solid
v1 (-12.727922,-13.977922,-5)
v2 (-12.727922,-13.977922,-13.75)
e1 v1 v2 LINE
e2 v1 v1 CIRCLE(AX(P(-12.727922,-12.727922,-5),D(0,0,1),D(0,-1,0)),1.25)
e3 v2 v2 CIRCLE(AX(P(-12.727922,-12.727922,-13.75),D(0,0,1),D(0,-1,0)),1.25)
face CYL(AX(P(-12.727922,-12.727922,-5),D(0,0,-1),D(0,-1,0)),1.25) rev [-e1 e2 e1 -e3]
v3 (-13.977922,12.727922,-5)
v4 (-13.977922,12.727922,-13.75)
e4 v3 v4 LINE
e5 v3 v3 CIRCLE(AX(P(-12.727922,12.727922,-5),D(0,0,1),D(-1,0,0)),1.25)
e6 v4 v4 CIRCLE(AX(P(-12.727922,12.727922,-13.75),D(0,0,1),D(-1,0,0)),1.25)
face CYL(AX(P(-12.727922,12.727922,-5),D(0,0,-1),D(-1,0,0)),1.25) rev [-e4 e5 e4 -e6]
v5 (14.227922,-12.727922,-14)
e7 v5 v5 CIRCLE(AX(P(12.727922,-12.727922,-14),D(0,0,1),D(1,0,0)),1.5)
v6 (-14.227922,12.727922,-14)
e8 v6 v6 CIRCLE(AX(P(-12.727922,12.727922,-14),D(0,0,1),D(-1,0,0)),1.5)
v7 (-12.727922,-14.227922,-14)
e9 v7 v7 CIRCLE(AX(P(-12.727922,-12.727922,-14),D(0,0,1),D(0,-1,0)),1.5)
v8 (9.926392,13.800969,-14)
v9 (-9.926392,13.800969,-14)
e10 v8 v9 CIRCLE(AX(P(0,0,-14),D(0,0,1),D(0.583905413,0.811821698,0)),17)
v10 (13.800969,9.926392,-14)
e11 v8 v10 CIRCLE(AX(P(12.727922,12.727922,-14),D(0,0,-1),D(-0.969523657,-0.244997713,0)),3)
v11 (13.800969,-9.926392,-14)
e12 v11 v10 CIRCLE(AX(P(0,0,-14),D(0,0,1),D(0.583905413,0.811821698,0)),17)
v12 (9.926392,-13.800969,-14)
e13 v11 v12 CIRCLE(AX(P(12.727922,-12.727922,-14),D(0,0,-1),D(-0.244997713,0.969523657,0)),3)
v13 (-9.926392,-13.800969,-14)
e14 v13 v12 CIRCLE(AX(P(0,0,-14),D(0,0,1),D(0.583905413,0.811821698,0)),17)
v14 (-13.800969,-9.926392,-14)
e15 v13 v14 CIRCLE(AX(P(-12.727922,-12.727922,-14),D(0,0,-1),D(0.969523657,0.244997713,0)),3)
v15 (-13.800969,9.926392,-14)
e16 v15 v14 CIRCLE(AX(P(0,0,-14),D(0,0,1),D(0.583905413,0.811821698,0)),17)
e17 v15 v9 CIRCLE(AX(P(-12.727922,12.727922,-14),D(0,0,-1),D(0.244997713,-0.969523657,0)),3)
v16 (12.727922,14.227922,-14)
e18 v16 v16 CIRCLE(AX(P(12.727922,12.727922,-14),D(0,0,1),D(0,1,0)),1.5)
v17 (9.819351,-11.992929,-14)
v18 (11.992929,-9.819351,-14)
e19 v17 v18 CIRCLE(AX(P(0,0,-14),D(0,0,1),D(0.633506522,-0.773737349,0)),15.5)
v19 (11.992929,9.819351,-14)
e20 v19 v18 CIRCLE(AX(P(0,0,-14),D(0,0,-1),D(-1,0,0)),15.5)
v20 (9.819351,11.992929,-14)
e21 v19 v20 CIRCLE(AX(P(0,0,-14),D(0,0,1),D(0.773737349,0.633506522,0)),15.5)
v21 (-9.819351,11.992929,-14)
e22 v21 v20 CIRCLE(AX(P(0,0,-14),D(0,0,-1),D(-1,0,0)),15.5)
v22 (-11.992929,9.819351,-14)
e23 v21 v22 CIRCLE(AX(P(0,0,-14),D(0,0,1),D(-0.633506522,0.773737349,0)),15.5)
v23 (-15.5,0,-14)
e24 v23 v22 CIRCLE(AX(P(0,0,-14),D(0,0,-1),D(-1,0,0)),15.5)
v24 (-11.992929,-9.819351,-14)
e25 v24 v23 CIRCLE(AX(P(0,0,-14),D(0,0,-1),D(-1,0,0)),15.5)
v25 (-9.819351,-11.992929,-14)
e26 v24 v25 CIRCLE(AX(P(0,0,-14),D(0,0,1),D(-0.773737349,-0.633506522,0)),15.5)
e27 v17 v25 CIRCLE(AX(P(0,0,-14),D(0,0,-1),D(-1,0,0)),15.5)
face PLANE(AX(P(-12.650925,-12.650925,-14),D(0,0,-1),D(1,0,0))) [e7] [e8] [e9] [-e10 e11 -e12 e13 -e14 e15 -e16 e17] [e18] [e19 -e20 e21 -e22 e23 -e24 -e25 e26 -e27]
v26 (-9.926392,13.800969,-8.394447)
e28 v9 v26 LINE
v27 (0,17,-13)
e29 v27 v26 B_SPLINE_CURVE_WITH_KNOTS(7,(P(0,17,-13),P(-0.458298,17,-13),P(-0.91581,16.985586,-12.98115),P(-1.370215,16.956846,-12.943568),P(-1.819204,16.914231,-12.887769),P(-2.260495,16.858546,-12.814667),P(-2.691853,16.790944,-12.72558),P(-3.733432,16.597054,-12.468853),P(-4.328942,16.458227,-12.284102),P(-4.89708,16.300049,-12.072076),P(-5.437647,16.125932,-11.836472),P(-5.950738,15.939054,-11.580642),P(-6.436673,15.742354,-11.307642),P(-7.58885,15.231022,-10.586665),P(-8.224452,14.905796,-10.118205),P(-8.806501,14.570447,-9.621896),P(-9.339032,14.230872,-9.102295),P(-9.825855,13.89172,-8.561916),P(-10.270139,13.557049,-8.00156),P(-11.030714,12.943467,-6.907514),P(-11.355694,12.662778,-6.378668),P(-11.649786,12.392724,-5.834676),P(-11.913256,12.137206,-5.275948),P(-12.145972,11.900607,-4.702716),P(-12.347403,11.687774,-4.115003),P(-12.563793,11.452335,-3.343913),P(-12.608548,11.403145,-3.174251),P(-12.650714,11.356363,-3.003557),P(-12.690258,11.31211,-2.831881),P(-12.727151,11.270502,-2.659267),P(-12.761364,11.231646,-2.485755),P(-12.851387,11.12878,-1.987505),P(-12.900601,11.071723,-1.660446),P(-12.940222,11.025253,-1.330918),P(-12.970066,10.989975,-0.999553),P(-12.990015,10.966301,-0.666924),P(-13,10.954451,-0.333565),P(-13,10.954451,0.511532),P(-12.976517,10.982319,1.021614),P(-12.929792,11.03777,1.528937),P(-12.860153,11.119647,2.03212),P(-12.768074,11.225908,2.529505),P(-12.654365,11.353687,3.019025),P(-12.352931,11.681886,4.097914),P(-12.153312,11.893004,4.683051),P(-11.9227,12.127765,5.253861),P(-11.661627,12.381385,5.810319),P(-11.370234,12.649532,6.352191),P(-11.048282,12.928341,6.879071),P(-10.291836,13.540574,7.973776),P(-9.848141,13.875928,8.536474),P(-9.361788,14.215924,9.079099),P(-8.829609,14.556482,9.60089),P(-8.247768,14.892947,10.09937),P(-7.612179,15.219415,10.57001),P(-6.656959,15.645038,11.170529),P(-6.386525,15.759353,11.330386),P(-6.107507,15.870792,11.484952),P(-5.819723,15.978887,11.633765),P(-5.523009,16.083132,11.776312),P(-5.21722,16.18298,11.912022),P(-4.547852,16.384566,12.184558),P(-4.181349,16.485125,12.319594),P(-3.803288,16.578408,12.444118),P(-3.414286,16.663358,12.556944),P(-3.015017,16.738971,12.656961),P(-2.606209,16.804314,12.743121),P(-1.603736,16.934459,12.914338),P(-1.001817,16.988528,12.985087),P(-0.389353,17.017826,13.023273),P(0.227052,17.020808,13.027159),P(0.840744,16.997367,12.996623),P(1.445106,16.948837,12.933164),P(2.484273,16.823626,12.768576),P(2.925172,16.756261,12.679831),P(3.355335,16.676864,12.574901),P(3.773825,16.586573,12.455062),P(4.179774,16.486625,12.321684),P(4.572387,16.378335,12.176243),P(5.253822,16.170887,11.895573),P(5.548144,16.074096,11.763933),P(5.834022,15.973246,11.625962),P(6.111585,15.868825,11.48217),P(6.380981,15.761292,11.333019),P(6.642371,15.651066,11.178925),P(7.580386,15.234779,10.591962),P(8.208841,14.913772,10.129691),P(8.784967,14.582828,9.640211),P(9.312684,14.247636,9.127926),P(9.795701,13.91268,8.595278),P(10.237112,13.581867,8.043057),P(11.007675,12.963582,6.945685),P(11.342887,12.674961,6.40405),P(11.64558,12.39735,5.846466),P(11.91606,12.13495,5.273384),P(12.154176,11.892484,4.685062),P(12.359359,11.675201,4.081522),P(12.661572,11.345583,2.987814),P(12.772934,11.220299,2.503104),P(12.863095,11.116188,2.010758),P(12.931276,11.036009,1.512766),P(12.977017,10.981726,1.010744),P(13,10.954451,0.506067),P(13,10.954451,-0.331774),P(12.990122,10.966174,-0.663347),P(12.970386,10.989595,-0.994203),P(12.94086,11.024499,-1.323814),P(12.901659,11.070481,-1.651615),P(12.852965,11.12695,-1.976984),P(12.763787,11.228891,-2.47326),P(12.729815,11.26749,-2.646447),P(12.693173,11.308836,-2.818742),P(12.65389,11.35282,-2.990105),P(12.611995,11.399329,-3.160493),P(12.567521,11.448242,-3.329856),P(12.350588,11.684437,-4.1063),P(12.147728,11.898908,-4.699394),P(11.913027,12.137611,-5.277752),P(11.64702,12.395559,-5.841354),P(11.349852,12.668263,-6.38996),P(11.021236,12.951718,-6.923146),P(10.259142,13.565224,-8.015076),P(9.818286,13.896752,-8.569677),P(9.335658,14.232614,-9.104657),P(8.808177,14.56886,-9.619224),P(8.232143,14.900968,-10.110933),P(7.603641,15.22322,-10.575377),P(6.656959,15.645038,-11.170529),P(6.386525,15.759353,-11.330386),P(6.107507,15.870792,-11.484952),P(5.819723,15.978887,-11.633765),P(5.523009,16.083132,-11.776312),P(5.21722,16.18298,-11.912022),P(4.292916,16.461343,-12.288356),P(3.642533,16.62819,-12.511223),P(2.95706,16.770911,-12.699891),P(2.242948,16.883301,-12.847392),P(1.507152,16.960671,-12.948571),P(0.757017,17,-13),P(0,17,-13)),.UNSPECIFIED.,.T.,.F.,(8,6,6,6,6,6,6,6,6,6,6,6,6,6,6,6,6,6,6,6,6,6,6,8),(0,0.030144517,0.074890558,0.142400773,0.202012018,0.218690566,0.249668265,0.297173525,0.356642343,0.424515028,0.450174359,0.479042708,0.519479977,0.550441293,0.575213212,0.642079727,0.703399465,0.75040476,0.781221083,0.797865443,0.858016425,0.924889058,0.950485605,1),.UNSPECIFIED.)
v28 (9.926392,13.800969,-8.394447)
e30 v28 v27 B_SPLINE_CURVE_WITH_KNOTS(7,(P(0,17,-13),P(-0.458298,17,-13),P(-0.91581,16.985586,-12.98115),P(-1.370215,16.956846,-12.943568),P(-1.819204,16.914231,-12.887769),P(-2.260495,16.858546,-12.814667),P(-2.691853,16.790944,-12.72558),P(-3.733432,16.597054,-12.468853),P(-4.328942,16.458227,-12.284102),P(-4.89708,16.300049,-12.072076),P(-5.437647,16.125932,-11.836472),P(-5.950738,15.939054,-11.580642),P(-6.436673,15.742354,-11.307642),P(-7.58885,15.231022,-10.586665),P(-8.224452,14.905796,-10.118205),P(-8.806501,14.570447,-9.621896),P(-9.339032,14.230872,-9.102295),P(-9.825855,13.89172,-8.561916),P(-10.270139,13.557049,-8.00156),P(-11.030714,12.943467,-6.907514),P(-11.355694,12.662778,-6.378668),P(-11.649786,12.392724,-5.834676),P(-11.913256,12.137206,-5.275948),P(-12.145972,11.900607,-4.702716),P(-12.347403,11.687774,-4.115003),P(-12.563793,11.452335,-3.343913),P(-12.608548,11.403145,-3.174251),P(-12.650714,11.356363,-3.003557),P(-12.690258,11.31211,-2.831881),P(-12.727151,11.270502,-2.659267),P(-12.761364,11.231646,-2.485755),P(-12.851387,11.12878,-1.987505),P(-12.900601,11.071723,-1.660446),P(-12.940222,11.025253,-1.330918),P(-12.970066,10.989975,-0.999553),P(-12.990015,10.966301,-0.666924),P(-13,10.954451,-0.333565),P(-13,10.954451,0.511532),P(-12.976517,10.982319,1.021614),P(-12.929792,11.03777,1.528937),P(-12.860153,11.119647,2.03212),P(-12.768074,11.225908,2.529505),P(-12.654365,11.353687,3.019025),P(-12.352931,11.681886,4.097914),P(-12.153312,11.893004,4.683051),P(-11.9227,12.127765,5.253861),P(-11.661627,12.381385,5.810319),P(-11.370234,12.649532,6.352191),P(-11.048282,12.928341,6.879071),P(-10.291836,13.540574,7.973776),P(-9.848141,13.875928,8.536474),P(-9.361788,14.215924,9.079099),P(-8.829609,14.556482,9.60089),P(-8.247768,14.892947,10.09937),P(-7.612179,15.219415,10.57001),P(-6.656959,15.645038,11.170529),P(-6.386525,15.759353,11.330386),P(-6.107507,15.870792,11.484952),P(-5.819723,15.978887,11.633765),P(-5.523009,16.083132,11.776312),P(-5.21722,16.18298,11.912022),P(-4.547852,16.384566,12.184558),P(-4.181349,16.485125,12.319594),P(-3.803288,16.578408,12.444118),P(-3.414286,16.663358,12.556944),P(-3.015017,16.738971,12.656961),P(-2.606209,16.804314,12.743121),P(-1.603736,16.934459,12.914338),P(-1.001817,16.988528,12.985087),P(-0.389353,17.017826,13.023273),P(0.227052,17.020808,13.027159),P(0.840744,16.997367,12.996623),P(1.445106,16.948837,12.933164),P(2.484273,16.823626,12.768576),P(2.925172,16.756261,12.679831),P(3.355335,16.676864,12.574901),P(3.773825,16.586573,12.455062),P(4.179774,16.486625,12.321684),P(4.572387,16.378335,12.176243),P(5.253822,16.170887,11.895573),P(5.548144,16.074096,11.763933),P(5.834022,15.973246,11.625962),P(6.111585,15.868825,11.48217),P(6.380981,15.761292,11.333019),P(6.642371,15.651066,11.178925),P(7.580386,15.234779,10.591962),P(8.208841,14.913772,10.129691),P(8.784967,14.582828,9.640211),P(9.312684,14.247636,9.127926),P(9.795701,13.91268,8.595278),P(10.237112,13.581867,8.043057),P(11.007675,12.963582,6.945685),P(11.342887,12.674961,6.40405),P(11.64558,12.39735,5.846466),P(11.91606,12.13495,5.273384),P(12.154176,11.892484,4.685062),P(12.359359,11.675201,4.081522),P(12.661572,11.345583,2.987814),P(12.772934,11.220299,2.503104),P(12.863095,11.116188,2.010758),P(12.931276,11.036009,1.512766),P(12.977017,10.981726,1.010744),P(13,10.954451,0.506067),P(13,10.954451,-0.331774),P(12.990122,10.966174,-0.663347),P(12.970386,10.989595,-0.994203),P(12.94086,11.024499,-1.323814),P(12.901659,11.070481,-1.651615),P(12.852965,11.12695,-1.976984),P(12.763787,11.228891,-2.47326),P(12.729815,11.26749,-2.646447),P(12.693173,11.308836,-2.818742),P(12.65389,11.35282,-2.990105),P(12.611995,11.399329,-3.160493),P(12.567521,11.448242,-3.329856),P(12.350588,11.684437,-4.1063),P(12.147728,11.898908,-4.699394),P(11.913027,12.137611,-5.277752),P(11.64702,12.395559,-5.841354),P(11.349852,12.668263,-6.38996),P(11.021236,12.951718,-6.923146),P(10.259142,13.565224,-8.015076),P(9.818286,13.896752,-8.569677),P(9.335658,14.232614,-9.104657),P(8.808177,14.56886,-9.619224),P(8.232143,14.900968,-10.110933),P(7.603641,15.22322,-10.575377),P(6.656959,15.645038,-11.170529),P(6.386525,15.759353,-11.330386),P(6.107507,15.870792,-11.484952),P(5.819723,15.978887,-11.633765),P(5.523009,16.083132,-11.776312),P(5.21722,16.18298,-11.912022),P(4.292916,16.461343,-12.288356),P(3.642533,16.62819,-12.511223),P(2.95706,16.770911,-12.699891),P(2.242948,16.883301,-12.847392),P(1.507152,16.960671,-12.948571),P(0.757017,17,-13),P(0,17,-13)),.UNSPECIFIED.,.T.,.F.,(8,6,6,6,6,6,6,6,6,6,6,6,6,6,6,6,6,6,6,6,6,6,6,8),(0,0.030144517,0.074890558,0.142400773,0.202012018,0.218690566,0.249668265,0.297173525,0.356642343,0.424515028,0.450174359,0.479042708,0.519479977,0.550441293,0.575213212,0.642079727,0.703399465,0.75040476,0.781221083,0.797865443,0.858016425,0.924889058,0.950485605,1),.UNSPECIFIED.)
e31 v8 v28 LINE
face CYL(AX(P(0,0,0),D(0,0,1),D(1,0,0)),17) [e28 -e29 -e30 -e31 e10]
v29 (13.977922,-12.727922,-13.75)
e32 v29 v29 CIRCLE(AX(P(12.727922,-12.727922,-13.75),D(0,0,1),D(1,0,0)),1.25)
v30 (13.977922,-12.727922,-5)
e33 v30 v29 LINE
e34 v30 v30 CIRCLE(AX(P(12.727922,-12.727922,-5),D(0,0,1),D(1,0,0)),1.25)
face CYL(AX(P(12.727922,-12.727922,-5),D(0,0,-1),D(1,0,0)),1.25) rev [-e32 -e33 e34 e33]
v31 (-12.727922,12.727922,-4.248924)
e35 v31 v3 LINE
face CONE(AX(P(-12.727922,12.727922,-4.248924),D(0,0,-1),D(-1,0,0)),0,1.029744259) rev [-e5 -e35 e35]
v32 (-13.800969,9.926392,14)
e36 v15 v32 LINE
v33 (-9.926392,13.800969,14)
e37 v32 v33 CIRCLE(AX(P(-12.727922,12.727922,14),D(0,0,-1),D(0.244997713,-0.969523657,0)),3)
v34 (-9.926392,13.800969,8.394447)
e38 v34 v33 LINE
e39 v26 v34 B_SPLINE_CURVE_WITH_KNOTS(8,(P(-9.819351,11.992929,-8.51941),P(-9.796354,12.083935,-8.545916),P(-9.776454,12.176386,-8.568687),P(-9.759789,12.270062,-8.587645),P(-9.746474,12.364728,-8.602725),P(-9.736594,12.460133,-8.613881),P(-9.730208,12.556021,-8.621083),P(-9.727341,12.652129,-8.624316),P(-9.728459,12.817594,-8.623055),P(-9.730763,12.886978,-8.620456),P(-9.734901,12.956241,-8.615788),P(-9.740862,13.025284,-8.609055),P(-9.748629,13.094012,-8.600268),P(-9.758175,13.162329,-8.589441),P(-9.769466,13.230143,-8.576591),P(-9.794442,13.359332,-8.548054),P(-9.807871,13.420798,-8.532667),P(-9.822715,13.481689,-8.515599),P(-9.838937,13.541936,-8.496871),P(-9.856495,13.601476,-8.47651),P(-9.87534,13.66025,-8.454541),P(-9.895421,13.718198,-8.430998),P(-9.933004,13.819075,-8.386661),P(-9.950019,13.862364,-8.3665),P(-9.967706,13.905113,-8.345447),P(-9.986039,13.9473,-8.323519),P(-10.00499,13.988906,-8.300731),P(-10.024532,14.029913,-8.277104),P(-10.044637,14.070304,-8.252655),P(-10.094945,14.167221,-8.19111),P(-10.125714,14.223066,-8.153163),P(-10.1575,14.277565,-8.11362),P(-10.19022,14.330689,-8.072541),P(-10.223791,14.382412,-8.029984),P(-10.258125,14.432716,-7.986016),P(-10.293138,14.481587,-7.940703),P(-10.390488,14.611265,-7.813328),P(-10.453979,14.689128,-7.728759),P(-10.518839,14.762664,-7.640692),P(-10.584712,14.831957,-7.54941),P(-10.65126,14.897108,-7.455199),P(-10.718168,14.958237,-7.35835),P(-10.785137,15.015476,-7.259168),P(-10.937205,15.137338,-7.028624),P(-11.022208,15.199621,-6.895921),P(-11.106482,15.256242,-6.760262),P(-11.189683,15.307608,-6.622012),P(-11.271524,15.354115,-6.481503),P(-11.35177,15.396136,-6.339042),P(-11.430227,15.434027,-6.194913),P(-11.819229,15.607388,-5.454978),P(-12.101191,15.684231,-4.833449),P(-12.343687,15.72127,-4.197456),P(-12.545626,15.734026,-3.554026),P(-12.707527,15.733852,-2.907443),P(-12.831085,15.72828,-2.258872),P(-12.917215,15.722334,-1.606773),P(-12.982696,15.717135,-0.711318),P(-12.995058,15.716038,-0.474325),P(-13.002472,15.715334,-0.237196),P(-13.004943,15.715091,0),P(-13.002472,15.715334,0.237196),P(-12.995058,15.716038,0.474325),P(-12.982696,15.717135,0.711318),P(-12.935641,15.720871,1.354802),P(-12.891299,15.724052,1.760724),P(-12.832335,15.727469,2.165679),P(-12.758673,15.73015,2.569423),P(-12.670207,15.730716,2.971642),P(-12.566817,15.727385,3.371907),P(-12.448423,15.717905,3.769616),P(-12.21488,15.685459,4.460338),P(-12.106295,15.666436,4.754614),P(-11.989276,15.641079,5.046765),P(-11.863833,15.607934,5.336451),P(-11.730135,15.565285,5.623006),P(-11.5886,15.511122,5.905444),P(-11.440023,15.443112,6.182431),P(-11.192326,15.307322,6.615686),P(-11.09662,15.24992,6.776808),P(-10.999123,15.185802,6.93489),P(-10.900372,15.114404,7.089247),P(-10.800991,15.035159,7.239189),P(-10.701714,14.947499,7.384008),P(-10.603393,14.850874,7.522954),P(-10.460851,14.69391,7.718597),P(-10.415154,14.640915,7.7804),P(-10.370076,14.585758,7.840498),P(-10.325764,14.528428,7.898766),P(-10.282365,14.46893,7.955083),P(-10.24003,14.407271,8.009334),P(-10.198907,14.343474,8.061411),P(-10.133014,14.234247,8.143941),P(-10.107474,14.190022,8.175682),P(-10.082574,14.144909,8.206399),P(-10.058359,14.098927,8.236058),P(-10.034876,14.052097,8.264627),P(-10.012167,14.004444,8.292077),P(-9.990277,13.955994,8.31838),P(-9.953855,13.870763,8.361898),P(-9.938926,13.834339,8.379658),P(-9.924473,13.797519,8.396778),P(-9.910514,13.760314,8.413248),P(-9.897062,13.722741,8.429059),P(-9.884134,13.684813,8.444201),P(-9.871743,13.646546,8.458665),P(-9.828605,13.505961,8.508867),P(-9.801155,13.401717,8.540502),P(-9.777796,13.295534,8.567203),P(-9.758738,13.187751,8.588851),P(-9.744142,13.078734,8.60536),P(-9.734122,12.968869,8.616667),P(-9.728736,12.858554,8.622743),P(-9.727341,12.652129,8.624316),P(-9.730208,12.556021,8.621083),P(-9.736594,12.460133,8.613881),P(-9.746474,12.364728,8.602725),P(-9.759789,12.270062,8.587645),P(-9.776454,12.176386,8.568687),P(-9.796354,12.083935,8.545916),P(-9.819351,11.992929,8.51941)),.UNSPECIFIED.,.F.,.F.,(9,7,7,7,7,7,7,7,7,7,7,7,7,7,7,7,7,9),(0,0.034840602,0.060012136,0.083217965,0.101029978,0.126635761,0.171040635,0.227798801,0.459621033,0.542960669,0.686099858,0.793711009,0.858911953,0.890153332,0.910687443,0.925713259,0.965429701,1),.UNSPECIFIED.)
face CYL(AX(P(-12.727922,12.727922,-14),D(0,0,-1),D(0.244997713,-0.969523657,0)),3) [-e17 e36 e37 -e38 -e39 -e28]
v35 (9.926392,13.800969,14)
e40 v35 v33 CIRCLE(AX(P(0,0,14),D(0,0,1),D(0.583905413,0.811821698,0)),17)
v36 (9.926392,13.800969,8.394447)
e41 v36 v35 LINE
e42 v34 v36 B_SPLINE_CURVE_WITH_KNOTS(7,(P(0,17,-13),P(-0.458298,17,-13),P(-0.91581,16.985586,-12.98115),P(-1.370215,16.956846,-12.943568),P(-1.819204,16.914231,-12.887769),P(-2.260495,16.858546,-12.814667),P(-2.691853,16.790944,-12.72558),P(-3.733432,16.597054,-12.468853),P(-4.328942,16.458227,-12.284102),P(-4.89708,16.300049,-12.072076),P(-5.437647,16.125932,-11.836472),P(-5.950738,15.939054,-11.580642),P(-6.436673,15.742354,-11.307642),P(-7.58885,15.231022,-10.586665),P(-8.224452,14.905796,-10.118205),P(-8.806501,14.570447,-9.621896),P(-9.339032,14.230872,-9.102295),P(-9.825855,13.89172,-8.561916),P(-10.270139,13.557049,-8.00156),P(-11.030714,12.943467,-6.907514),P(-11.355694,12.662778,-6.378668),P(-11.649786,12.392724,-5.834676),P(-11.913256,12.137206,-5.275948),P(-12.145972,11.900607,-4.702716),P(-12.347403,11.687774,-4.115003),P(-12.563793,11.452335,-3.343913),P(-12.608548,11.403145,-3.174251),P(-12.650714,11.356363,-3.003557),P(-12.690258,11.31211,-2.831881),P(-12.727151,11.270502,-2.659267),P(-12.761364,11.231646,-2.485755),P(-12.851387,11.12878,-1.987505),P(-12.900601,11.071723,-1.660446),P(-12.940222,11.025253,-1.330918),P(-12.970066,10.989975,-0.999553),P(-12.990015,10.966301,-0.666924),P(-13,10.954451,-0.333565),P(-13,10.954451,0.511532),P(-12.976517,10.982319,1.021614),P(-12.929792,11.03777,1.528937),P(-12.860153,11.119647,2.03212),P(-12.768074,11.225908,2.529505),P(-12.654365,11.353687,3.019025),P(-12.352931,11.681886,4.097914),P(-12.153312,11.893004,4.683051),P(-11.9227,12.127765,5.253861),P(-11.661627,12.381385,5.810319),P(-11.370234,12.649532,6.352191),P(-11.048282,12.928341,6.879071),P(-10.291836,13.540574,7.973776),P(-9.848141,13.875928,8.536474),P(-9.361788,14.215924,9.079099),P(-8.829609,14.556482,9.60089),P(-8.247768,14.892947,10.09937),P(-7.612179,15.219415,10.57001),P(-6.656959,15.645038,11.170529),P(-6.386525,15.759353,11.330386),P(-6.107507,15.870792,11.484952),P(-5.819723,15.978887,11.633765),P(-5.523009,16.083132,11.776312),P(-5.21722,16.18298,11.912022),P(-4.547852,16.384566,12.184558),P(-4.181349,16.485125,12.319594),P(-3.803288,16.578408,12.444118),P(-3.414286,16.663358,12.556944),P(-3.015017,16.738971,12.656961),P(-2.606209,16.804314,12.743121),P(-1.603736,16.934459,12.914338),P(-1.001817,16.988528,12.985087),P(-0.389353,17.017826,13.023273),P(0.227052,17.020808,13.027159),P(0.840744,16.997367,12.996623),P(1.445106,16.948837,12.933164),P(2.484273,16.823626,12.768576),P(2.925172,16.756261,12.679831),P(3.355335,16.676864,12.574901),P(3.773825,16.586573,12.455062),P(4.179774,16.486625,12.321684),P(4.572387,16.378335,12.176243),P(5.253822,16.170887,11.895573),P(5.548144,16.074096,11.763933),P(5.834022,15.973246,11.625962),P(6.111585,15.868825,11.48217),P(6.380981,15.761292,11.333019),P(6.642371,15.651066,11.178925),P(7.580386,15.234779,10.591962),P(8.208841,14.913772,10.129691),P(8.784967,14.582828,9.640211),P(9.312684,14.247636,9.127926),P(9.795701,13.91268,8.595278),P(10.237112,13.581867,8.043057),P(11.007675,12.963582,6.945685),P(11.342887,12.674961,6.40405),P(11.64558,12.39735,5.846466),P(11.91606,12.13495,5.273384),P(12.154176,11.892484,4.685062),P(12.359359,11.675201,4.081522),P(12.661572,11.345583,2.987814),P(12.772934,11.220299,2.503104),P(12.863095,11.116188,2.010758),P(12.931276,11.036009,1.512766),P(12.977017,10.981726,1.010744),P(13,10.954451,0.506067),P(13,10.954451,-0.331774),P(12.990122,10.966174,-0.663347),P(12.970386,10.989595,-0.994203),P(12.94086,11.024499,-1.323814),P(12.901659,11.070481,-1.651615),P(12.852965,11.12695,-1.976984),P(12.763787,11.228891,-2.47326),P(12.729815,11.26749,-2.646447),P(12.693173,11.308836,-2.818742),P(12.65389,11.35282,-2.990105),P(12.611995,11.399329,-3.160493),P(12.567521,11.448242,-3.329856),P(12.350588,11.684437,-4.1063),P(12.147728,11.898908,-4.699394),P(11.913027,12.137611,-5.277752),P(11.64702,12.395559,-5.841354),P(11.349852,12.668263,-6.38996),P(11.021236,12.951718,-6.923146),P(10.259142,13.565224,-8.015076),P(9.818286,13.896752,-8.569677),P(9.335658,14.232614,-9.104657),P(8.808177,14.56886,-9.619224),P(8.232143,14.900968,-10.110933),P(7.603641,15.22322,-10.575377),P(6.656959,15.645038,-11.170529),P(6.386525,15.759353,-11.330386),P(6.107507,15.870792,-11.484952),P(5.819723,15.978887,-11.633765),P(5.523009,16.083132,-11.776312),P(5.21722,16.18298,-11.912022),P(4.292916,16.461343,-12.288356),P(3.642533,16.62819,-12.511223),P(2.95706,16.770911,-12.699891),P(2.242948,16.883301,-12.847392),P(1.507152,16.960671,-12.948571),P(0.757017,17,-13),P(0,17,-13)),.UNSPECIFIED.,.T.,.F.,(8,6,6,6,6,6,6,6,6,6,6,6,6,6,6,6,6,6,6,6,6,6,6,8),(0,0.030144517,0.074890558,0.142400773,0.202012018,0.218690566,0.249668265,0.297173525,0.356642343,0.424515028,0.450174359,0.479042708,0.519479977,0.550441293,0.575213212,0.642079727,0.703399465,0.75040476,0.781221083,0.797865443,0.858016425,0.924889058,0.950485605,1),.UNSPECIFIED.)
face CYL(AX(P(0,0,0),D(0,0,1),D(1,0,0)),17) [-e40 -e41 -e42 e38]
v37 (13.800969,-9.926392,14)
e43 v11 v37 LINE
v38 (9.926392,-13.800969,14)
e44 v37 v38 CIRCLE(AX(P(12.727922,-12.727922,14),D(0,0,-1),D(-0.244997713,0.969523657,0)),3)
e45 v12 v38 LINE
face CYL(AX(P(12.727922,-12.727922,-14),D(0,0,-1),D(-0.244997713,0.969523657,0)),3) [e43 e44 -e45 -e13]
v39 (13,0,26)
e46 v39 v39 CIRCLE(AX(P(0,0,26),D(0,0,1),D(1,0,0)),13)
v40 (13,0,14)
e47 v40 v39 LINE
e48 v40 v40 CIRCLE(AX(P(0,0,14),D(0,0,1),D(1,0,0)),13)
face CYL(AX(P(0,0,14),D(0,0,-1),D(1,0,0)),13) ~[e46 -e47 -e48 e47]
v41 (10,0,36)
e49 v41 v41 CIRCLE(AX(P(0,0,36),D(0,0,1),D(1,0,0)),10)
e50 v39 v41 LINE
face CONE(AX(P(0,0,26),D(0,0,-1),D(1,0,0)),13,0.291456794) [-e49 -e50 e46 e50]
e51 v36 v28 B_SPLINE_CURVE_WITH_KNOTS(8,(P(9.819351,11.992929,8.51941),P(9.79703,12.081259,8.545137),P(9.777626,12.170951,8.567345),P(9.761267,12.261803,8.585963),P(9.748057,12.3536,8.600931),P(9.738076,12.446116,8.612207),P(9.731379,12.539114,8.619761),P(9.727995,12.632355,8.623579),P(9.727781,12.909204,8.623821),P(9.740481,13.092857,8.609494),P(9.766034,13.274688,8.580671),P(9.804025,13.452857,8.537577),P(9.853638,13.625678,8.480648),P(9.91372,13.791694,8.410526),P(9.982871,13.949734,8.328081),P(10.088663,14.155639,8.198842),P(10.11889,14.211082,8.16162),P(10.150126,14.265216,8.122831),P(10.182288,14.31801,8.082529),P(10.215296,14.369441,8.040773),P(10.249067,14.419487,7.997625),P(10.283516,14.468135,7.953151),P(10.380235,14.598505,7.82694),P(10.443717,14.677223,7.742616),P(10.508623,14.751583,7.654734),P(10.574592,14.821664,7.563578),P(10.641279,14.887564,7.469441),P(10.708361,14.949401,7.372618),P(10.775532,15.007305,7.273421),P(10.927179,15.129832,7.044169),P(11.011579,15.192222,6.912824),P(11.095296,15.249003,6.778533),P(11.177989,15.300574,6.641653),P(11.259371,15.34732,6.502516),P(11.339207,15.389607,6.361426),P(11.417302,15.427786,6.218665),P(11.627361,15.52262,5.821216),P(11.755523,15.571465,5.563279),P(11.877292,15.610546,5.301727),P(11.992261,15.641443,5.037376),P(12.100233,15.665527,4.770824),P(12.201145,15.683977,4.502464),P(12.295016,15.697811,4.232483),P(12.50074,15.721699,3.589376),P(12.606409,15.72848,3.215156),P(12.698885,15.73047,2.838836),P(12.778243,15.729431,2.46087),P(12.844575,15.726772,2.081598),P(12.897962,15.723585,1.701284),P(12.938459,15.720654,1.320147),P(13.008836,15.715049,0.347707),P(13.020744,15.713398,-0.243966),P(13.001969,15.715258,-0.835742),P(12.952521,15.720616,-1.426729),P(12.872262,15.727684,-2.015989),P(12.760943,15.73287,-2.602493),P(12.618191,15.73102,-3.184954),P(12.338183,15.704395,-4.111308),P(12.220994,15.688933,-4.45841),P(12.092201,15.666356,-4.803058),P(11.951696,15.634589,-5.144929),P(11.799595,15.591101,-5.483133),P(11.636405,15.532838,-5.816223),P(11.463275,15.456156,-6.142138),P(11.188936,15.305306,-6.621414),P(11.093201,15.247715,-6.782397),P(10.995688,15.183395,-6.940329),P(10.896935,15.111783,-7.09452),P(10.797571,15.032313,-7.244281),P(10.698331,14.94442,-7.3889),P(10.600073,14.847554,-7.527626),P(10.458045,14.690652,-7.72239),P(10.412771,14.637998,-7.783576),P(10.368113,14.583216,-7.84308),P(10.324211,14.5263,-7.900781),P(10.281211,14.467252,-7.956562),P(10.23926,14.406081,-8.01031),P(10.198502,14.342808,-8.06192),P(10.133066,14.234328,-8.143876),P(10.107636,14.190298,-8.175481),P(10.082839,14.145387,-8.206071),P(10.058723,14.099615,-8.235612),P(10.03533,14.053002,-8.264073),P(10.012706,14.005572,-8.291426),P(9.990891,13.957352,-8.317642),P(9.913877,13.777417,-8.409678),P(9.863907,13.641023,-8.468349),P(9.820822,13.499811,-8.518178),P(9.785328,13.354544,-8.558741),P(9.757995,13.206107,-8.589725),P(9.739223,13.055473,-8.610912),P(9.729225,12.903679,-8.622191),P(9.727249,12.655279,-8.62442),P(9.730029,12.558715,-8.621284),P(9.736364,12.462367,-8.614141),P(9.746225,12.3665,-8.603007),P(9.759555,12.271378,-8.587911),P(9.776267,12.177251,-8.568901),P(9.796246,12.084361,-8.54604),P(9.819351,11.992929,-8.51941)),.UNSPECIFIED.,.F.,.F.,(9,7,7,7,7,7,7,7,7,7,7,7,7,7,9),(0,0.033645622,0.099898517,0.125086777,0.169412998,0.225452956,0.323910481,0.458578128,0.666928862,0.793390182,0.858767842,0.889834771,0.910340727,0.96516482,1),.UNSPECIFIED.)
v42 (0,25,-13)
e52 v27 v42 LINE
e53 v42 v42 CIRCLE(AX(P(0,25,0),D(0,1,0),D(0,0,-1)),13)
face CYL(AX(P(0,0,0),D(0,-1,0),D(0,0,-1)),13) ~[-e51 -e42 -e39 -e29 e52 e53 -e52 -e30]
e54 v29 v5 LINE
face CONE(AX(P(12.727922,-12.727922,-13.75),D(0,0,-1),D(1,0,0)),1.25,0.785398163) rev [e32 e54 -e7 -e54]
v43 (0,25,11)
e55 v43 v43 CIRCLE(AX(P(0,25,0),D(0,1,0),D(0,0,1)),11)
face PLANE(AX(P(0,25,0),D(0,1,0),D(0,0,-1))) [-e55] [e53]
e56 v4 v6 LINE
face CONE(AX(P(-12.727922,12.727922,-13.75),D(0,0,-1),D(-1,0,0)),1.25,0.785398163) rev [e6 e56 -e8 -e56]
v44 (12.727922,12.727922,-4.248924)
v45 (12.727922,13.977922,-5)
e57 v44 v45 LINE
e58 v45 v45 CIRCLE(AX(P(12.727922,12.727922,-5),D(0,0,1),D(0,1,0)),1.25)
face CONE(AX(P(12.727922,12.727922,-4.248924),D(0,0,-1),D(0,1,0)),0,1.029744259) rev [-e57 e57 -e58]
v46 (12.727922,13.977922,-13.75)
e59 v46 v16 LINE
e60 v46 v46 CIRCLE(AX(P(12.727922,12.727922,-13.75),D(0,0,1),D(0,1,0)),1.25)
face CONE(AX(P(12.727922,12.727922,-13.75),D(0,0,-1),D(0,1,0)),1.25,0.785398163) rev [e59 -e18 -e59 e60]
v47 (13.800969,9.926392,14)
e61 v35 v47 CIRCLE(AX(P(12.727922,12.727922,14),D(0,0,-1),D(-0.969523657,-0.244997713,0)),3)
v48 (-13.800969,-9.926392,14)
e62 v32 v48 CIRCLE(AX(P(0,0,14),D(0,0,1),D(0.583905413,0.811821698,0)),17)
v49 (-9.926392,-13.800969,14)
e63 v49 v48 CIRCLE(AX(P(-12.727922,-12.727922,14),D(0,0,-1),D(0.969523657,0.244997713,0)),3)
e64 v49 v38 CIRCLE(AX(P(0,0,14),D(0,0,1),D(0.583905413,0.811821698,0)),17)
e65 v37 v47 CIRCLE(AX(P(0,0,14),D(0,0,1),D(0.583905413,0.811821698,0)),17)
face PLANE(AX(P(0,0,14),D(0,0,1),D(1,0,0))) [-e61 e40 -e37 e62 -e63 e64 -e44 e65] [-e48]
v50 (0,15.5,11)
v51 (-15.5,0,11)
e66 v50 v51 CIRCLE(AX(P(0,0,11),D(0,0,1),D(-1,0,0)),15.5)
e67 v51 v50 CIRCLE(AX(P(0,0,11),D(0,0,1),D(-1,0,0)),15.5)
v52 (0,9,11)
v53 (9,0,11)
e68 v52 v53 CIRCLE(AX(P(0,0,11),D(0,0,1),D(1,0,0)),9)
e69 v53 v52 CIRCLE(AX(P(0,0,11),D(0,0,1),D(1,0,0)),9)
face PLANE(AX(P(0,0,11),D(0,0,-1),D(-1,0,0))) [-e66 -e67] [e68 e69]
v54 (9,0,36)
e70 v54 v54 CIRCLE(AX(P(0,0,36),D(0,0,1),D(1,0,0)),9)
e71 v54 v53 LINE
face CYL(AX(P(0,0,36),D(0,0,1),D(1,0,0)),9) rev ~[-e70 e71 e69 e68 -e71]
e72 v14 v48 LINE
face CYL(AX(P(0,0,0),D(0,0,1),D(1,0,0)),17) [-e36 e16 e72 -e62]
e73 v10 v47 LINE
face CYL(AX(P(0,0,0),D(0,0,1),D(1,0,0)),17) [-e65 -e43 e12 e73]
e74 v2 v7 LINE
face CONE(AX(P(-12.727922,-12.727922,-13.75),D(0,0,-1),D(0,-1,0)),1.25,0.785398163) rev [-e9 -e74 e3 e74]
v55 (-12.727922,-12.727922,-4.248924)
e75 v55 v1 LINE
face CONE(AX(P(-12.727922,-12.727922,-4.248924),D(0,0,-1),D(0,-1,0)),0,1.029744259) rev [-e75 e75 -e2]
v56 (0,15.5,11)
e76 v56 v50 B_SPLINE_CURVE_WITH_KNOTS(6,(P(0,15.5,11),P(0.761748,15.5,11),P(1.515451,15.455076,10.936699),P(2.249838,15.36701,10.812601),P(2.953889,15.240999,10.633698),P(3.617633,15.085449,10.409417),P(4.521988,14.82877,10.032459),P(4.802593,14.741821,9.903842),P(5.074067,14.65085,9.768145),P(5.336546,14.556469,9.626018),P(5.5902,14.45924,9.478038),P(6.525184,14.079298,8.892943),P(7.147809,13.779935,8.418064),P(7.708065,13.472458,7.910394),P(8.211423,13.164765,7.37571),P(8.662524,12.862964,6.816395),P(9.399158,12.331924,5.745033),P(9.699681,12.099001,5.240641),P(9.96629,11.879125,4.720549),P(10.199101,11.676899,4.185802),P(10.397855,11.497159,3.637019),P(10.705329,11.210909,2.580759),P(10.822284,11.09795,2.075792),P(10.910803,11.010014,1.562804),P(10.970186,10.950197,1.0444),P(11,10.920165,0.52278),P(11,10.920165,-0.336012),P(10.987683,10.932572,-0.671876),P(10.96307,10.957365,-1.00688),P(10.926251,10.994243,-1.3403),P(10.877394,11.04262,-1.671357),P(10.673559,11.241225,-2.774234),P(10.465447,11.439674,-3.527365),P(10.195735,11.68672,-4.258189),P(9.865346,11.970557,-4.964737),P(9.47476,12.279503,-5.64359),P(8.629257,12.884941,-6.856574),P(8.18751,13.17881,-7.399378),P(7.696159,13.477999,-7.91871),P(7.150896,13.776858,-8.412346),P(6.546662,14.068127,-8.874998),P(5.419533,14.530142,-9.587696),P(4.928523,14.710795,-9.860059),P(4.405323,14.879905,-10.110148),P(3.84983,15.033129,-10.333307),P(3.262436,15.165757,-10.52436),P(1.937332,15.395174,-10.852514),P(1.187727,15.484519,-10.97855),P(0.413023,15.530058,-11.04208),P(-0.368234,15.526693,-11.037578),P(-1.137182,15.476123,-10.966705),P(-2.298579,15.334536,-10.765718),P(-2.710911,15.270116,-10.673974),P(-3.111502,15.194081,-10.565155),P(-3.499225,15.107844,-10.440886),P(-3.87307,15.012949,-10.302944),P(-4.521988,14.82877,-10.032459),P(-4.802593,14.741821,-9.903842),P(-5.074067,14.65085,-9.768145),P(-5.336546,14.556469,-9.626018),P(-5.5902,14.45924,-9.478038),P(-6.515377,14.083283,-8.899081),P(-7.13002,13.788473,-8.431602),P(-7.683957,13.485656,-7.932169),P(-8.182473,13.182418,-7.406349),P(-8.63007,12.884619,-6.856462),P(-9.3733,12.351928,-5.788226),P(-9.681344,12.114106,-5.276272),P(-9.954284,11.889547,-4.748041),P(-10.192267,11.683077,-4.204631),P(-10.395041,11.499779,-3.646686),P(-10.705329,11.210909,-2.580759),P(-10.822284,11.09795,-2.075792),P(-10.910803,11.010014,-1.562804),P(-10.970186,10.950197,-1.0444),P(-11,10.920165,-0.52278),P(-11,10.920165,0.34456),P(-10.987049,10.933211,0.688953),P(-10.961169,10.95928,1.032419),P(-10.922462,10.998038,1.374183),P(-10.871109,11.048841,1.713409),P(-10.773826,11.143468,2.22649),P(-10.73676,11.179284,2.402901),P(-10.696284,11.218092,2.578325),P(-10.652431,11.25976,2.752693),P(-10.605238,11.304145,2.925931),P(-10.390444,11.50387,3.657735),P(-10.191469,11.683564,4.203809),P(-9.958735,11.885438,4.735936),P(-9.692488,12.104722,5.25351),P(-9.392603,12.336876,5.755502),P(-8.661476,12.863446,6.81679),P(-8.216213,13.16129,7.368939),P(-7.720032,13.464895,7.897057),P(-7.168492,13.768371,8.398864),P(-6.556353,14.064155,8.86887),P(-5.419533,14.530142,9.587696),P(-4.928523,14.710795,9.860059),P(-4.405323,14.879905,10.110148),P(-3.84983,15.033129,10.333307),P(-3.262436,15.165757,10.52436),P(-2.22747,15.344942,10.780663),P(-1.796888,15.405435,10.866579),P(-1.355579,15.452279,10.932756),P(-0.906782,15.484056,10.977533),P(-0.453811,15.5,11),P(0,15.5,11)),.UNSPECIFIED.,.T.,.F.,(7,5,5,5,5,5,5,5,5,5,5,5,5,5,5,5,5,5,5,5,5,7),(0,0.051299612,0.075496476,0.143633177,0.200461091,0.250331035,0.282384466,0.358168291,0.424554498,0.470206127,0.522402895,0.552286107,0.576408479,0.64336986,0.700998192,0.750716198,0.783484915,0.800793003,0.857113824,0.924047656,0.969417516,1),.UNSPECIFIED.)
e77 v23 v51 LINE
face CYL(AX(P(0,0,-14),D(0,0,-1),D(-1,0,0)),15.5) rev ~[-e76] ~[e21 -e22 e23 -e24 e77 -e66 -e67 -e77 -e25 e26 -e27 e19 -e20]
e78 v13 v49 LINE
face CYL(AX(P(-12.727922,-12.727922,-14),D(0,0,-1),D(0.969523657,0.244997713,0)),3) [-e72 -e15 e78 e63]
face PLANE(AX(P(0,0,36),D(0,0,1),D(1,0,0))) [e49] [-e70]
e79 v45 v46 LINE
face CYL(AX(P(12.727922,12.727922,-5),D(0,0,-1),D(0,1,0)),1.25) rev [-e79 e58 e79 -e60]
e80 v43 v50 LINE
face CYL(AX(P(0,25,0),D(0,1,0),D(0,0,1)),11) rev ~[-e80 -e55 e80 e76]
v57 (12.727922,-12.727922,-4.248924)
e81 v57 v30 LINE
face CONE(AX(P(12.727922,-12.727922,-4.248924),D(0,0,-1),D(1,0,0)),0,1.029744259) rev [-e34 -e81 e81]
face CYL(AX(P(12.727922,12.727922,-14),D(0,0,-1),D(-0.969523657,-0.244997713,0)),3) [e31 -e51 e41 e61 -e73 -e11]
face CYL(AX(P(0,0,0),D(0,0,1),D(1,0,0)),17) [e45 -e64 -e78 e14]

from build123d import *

# Parameters (mm, degrees)
SKETCH1_R           = 17
BOSS_EXTRUDE1_DEPTH = 14
SKETCH2_R           = 13
BOSS_EXTRUDE2_DEPTH = 22
SKETCH3_R           = 13
BOSS_EXTRUDE3_DEPTH = 25
SKETCH4_R           = 15.5
CUT_EXTRUDE1_DEPTH  = 25
SKETCH5_R           = 9
CUT_EXTRUDE2_DEPTH  = 25
CHAMFER2_SIZE       = 10
CHAMFER2_SIZE2      = 3
BOSS_EXTRUDE4_DEPTH = 28
CIRPATTERN1_COUNT   = 4
SKETCH6_R           = 11
CUT_EXTRUDE3_DEPTH  = 25
CIRPATTERN2_COUNT   = 4


with BuildPart() as part:
    # Sketch1 → Boss-Extrude1 (new body, symmetric)
    with BuildSketch(Plane.XY):
        Circle(SKETCH1_R)
    extrude(amount=BOSS_EXTRUDE1_DEPTH, both=True)

    # Sketch2 → Boss-Extrude2 (add)
    with BuildSketch(Plane.XY.offset(14)):
        Circle(SKETCH2_R)
    extrude(amount=BOSS_EXTRUDE2_DEPTH)

    # Sketch3 → Boss-Extrude3 (add)
    with BuildSketch(Plane(origin=(0, 0, 0), x_dir=(1, 0, 0), z_dir=(0, 1, 0))):
        with Locations(Location((0, 0, 0), (0, 0, 90))):  # turned: the seam where the file's is
            Circle(SKETCH3_R)
    extrude(amount=BOSS_EXTRUDE3_DEPTH)

    # Sketch4 → Cut-Extrude1 (cut)
    with BuildSketch(Plane(origin=(0, 0, -14), x_dir=(-1, 0, 0), z_dir=(0, 0, -1))):
        Circle(SKETCH4_R)
    extrude(amount=-CUT_EXTRUDE1_DEPTH, mode=Mode.SUBTRACT)

    # Sketch5 → Cut-Extrude2 (cut)
    with BuildSketch(Plane.XY.offset(36)):
        Circle(SKETCH5_R)
    extrude(amount=-CUT_EXTRUDE2_DEPTH, mode=Mode.SUBTRACT)

    # Chamfer2
    chamfer2_edges = [part.edges().sort_by_distance(p)[0] for p in [
        (-13, 0, 36),
    ]]
    chamfer2_side = [part.faces().sort_by_distance(p)[0] for p in [
        (-13, 0, 25),
    ]]
    chamfer(chamfer2_edges, length=CHAMFER2_SIZE, length2=CHAMFER2_SIZE2, reference=chamfer2_side[0])

    # Sketch7 → Boss-Extrude4 (add)
    with BuildSketch(Plane(origin=(0, 0, -14), x_dir=(-1, 0, 0), z_dir=(0, 0, -1))):
        with BuildLine():
            ThreePointArc((-9.819351092, 11.992928922), (-14.849242405, 14.849242405), (-11.992928922, 9.819351092))
            ThreePointArc((-11.992928922, 9.819351092), (-10.960155108, 10.960155108), (-9.819351092, 11.992928922))
        make_face()
    boss_extrude4 = extrude(amount=-BOSS_EXTRUDE4_DEPTH)

    # CirPattern1: Boss-Extrude4 ×4 about axis
    cirpattern1_axis = Axis((0, 0, 0), (0, 0, 1))
    for i in range(1, CIRPATTERN1_COUNT):
        add(boss_extrude4.rotate(cirpattern1_axis, i * 360 / CIRPATTERN1_COUNT))

    # Sketch6 → Cut-Extrude3 (cut)
    with BuildSketch(Plane(origin=(0, 25, 0), x_dir=(1, 0, 0), z_dir=(0, 1, 0))):
        with Locations(Location((0, 0, 0), (0, 0, 270))):  # turned: the seam where the file's is
            Circle(SKETCH6_R)
    extrude(amount=-CUT_EXTRUDE3_DEPTH, mode=Mode.SUBTRACT)

    # Sketch9 → Tap Drill for M3x0.5 Tap1 (revolve, cut)
    with BuildSketch(Plane(origin=(12.727922061, 12.727922061, -14), x_dir=(0, 1, 0), z_dir=(1, 0, 0))):
        Polygon((0, 0), (0, 9.751075774), (1.25, 9), (1.25, 0.25), (1.5, 0), align=None)
    tap_drill_for_m3x0_5_tap1 = revolve(axis=Axis((12.727922061, 12.727922061, -20.35), (0, 0, 1)), mode=Mode.SUBTRACT)

    # CirPattern2: Tap Drill for M3x0.5 Tap1 ×4 about axis
    cirpattern2_axis = Axis((0, 0, 0), (0, 0, 1))
    for i in range(1, CIRPATTERN2_COUNT):
        add(tap_drill_for_m3x0_5_tap1.rotate(cirpattern2_axis, i * 360 / CIRPATTERN2_COUNT), mode=Mode.SUBTRACT)


solid = part.part
